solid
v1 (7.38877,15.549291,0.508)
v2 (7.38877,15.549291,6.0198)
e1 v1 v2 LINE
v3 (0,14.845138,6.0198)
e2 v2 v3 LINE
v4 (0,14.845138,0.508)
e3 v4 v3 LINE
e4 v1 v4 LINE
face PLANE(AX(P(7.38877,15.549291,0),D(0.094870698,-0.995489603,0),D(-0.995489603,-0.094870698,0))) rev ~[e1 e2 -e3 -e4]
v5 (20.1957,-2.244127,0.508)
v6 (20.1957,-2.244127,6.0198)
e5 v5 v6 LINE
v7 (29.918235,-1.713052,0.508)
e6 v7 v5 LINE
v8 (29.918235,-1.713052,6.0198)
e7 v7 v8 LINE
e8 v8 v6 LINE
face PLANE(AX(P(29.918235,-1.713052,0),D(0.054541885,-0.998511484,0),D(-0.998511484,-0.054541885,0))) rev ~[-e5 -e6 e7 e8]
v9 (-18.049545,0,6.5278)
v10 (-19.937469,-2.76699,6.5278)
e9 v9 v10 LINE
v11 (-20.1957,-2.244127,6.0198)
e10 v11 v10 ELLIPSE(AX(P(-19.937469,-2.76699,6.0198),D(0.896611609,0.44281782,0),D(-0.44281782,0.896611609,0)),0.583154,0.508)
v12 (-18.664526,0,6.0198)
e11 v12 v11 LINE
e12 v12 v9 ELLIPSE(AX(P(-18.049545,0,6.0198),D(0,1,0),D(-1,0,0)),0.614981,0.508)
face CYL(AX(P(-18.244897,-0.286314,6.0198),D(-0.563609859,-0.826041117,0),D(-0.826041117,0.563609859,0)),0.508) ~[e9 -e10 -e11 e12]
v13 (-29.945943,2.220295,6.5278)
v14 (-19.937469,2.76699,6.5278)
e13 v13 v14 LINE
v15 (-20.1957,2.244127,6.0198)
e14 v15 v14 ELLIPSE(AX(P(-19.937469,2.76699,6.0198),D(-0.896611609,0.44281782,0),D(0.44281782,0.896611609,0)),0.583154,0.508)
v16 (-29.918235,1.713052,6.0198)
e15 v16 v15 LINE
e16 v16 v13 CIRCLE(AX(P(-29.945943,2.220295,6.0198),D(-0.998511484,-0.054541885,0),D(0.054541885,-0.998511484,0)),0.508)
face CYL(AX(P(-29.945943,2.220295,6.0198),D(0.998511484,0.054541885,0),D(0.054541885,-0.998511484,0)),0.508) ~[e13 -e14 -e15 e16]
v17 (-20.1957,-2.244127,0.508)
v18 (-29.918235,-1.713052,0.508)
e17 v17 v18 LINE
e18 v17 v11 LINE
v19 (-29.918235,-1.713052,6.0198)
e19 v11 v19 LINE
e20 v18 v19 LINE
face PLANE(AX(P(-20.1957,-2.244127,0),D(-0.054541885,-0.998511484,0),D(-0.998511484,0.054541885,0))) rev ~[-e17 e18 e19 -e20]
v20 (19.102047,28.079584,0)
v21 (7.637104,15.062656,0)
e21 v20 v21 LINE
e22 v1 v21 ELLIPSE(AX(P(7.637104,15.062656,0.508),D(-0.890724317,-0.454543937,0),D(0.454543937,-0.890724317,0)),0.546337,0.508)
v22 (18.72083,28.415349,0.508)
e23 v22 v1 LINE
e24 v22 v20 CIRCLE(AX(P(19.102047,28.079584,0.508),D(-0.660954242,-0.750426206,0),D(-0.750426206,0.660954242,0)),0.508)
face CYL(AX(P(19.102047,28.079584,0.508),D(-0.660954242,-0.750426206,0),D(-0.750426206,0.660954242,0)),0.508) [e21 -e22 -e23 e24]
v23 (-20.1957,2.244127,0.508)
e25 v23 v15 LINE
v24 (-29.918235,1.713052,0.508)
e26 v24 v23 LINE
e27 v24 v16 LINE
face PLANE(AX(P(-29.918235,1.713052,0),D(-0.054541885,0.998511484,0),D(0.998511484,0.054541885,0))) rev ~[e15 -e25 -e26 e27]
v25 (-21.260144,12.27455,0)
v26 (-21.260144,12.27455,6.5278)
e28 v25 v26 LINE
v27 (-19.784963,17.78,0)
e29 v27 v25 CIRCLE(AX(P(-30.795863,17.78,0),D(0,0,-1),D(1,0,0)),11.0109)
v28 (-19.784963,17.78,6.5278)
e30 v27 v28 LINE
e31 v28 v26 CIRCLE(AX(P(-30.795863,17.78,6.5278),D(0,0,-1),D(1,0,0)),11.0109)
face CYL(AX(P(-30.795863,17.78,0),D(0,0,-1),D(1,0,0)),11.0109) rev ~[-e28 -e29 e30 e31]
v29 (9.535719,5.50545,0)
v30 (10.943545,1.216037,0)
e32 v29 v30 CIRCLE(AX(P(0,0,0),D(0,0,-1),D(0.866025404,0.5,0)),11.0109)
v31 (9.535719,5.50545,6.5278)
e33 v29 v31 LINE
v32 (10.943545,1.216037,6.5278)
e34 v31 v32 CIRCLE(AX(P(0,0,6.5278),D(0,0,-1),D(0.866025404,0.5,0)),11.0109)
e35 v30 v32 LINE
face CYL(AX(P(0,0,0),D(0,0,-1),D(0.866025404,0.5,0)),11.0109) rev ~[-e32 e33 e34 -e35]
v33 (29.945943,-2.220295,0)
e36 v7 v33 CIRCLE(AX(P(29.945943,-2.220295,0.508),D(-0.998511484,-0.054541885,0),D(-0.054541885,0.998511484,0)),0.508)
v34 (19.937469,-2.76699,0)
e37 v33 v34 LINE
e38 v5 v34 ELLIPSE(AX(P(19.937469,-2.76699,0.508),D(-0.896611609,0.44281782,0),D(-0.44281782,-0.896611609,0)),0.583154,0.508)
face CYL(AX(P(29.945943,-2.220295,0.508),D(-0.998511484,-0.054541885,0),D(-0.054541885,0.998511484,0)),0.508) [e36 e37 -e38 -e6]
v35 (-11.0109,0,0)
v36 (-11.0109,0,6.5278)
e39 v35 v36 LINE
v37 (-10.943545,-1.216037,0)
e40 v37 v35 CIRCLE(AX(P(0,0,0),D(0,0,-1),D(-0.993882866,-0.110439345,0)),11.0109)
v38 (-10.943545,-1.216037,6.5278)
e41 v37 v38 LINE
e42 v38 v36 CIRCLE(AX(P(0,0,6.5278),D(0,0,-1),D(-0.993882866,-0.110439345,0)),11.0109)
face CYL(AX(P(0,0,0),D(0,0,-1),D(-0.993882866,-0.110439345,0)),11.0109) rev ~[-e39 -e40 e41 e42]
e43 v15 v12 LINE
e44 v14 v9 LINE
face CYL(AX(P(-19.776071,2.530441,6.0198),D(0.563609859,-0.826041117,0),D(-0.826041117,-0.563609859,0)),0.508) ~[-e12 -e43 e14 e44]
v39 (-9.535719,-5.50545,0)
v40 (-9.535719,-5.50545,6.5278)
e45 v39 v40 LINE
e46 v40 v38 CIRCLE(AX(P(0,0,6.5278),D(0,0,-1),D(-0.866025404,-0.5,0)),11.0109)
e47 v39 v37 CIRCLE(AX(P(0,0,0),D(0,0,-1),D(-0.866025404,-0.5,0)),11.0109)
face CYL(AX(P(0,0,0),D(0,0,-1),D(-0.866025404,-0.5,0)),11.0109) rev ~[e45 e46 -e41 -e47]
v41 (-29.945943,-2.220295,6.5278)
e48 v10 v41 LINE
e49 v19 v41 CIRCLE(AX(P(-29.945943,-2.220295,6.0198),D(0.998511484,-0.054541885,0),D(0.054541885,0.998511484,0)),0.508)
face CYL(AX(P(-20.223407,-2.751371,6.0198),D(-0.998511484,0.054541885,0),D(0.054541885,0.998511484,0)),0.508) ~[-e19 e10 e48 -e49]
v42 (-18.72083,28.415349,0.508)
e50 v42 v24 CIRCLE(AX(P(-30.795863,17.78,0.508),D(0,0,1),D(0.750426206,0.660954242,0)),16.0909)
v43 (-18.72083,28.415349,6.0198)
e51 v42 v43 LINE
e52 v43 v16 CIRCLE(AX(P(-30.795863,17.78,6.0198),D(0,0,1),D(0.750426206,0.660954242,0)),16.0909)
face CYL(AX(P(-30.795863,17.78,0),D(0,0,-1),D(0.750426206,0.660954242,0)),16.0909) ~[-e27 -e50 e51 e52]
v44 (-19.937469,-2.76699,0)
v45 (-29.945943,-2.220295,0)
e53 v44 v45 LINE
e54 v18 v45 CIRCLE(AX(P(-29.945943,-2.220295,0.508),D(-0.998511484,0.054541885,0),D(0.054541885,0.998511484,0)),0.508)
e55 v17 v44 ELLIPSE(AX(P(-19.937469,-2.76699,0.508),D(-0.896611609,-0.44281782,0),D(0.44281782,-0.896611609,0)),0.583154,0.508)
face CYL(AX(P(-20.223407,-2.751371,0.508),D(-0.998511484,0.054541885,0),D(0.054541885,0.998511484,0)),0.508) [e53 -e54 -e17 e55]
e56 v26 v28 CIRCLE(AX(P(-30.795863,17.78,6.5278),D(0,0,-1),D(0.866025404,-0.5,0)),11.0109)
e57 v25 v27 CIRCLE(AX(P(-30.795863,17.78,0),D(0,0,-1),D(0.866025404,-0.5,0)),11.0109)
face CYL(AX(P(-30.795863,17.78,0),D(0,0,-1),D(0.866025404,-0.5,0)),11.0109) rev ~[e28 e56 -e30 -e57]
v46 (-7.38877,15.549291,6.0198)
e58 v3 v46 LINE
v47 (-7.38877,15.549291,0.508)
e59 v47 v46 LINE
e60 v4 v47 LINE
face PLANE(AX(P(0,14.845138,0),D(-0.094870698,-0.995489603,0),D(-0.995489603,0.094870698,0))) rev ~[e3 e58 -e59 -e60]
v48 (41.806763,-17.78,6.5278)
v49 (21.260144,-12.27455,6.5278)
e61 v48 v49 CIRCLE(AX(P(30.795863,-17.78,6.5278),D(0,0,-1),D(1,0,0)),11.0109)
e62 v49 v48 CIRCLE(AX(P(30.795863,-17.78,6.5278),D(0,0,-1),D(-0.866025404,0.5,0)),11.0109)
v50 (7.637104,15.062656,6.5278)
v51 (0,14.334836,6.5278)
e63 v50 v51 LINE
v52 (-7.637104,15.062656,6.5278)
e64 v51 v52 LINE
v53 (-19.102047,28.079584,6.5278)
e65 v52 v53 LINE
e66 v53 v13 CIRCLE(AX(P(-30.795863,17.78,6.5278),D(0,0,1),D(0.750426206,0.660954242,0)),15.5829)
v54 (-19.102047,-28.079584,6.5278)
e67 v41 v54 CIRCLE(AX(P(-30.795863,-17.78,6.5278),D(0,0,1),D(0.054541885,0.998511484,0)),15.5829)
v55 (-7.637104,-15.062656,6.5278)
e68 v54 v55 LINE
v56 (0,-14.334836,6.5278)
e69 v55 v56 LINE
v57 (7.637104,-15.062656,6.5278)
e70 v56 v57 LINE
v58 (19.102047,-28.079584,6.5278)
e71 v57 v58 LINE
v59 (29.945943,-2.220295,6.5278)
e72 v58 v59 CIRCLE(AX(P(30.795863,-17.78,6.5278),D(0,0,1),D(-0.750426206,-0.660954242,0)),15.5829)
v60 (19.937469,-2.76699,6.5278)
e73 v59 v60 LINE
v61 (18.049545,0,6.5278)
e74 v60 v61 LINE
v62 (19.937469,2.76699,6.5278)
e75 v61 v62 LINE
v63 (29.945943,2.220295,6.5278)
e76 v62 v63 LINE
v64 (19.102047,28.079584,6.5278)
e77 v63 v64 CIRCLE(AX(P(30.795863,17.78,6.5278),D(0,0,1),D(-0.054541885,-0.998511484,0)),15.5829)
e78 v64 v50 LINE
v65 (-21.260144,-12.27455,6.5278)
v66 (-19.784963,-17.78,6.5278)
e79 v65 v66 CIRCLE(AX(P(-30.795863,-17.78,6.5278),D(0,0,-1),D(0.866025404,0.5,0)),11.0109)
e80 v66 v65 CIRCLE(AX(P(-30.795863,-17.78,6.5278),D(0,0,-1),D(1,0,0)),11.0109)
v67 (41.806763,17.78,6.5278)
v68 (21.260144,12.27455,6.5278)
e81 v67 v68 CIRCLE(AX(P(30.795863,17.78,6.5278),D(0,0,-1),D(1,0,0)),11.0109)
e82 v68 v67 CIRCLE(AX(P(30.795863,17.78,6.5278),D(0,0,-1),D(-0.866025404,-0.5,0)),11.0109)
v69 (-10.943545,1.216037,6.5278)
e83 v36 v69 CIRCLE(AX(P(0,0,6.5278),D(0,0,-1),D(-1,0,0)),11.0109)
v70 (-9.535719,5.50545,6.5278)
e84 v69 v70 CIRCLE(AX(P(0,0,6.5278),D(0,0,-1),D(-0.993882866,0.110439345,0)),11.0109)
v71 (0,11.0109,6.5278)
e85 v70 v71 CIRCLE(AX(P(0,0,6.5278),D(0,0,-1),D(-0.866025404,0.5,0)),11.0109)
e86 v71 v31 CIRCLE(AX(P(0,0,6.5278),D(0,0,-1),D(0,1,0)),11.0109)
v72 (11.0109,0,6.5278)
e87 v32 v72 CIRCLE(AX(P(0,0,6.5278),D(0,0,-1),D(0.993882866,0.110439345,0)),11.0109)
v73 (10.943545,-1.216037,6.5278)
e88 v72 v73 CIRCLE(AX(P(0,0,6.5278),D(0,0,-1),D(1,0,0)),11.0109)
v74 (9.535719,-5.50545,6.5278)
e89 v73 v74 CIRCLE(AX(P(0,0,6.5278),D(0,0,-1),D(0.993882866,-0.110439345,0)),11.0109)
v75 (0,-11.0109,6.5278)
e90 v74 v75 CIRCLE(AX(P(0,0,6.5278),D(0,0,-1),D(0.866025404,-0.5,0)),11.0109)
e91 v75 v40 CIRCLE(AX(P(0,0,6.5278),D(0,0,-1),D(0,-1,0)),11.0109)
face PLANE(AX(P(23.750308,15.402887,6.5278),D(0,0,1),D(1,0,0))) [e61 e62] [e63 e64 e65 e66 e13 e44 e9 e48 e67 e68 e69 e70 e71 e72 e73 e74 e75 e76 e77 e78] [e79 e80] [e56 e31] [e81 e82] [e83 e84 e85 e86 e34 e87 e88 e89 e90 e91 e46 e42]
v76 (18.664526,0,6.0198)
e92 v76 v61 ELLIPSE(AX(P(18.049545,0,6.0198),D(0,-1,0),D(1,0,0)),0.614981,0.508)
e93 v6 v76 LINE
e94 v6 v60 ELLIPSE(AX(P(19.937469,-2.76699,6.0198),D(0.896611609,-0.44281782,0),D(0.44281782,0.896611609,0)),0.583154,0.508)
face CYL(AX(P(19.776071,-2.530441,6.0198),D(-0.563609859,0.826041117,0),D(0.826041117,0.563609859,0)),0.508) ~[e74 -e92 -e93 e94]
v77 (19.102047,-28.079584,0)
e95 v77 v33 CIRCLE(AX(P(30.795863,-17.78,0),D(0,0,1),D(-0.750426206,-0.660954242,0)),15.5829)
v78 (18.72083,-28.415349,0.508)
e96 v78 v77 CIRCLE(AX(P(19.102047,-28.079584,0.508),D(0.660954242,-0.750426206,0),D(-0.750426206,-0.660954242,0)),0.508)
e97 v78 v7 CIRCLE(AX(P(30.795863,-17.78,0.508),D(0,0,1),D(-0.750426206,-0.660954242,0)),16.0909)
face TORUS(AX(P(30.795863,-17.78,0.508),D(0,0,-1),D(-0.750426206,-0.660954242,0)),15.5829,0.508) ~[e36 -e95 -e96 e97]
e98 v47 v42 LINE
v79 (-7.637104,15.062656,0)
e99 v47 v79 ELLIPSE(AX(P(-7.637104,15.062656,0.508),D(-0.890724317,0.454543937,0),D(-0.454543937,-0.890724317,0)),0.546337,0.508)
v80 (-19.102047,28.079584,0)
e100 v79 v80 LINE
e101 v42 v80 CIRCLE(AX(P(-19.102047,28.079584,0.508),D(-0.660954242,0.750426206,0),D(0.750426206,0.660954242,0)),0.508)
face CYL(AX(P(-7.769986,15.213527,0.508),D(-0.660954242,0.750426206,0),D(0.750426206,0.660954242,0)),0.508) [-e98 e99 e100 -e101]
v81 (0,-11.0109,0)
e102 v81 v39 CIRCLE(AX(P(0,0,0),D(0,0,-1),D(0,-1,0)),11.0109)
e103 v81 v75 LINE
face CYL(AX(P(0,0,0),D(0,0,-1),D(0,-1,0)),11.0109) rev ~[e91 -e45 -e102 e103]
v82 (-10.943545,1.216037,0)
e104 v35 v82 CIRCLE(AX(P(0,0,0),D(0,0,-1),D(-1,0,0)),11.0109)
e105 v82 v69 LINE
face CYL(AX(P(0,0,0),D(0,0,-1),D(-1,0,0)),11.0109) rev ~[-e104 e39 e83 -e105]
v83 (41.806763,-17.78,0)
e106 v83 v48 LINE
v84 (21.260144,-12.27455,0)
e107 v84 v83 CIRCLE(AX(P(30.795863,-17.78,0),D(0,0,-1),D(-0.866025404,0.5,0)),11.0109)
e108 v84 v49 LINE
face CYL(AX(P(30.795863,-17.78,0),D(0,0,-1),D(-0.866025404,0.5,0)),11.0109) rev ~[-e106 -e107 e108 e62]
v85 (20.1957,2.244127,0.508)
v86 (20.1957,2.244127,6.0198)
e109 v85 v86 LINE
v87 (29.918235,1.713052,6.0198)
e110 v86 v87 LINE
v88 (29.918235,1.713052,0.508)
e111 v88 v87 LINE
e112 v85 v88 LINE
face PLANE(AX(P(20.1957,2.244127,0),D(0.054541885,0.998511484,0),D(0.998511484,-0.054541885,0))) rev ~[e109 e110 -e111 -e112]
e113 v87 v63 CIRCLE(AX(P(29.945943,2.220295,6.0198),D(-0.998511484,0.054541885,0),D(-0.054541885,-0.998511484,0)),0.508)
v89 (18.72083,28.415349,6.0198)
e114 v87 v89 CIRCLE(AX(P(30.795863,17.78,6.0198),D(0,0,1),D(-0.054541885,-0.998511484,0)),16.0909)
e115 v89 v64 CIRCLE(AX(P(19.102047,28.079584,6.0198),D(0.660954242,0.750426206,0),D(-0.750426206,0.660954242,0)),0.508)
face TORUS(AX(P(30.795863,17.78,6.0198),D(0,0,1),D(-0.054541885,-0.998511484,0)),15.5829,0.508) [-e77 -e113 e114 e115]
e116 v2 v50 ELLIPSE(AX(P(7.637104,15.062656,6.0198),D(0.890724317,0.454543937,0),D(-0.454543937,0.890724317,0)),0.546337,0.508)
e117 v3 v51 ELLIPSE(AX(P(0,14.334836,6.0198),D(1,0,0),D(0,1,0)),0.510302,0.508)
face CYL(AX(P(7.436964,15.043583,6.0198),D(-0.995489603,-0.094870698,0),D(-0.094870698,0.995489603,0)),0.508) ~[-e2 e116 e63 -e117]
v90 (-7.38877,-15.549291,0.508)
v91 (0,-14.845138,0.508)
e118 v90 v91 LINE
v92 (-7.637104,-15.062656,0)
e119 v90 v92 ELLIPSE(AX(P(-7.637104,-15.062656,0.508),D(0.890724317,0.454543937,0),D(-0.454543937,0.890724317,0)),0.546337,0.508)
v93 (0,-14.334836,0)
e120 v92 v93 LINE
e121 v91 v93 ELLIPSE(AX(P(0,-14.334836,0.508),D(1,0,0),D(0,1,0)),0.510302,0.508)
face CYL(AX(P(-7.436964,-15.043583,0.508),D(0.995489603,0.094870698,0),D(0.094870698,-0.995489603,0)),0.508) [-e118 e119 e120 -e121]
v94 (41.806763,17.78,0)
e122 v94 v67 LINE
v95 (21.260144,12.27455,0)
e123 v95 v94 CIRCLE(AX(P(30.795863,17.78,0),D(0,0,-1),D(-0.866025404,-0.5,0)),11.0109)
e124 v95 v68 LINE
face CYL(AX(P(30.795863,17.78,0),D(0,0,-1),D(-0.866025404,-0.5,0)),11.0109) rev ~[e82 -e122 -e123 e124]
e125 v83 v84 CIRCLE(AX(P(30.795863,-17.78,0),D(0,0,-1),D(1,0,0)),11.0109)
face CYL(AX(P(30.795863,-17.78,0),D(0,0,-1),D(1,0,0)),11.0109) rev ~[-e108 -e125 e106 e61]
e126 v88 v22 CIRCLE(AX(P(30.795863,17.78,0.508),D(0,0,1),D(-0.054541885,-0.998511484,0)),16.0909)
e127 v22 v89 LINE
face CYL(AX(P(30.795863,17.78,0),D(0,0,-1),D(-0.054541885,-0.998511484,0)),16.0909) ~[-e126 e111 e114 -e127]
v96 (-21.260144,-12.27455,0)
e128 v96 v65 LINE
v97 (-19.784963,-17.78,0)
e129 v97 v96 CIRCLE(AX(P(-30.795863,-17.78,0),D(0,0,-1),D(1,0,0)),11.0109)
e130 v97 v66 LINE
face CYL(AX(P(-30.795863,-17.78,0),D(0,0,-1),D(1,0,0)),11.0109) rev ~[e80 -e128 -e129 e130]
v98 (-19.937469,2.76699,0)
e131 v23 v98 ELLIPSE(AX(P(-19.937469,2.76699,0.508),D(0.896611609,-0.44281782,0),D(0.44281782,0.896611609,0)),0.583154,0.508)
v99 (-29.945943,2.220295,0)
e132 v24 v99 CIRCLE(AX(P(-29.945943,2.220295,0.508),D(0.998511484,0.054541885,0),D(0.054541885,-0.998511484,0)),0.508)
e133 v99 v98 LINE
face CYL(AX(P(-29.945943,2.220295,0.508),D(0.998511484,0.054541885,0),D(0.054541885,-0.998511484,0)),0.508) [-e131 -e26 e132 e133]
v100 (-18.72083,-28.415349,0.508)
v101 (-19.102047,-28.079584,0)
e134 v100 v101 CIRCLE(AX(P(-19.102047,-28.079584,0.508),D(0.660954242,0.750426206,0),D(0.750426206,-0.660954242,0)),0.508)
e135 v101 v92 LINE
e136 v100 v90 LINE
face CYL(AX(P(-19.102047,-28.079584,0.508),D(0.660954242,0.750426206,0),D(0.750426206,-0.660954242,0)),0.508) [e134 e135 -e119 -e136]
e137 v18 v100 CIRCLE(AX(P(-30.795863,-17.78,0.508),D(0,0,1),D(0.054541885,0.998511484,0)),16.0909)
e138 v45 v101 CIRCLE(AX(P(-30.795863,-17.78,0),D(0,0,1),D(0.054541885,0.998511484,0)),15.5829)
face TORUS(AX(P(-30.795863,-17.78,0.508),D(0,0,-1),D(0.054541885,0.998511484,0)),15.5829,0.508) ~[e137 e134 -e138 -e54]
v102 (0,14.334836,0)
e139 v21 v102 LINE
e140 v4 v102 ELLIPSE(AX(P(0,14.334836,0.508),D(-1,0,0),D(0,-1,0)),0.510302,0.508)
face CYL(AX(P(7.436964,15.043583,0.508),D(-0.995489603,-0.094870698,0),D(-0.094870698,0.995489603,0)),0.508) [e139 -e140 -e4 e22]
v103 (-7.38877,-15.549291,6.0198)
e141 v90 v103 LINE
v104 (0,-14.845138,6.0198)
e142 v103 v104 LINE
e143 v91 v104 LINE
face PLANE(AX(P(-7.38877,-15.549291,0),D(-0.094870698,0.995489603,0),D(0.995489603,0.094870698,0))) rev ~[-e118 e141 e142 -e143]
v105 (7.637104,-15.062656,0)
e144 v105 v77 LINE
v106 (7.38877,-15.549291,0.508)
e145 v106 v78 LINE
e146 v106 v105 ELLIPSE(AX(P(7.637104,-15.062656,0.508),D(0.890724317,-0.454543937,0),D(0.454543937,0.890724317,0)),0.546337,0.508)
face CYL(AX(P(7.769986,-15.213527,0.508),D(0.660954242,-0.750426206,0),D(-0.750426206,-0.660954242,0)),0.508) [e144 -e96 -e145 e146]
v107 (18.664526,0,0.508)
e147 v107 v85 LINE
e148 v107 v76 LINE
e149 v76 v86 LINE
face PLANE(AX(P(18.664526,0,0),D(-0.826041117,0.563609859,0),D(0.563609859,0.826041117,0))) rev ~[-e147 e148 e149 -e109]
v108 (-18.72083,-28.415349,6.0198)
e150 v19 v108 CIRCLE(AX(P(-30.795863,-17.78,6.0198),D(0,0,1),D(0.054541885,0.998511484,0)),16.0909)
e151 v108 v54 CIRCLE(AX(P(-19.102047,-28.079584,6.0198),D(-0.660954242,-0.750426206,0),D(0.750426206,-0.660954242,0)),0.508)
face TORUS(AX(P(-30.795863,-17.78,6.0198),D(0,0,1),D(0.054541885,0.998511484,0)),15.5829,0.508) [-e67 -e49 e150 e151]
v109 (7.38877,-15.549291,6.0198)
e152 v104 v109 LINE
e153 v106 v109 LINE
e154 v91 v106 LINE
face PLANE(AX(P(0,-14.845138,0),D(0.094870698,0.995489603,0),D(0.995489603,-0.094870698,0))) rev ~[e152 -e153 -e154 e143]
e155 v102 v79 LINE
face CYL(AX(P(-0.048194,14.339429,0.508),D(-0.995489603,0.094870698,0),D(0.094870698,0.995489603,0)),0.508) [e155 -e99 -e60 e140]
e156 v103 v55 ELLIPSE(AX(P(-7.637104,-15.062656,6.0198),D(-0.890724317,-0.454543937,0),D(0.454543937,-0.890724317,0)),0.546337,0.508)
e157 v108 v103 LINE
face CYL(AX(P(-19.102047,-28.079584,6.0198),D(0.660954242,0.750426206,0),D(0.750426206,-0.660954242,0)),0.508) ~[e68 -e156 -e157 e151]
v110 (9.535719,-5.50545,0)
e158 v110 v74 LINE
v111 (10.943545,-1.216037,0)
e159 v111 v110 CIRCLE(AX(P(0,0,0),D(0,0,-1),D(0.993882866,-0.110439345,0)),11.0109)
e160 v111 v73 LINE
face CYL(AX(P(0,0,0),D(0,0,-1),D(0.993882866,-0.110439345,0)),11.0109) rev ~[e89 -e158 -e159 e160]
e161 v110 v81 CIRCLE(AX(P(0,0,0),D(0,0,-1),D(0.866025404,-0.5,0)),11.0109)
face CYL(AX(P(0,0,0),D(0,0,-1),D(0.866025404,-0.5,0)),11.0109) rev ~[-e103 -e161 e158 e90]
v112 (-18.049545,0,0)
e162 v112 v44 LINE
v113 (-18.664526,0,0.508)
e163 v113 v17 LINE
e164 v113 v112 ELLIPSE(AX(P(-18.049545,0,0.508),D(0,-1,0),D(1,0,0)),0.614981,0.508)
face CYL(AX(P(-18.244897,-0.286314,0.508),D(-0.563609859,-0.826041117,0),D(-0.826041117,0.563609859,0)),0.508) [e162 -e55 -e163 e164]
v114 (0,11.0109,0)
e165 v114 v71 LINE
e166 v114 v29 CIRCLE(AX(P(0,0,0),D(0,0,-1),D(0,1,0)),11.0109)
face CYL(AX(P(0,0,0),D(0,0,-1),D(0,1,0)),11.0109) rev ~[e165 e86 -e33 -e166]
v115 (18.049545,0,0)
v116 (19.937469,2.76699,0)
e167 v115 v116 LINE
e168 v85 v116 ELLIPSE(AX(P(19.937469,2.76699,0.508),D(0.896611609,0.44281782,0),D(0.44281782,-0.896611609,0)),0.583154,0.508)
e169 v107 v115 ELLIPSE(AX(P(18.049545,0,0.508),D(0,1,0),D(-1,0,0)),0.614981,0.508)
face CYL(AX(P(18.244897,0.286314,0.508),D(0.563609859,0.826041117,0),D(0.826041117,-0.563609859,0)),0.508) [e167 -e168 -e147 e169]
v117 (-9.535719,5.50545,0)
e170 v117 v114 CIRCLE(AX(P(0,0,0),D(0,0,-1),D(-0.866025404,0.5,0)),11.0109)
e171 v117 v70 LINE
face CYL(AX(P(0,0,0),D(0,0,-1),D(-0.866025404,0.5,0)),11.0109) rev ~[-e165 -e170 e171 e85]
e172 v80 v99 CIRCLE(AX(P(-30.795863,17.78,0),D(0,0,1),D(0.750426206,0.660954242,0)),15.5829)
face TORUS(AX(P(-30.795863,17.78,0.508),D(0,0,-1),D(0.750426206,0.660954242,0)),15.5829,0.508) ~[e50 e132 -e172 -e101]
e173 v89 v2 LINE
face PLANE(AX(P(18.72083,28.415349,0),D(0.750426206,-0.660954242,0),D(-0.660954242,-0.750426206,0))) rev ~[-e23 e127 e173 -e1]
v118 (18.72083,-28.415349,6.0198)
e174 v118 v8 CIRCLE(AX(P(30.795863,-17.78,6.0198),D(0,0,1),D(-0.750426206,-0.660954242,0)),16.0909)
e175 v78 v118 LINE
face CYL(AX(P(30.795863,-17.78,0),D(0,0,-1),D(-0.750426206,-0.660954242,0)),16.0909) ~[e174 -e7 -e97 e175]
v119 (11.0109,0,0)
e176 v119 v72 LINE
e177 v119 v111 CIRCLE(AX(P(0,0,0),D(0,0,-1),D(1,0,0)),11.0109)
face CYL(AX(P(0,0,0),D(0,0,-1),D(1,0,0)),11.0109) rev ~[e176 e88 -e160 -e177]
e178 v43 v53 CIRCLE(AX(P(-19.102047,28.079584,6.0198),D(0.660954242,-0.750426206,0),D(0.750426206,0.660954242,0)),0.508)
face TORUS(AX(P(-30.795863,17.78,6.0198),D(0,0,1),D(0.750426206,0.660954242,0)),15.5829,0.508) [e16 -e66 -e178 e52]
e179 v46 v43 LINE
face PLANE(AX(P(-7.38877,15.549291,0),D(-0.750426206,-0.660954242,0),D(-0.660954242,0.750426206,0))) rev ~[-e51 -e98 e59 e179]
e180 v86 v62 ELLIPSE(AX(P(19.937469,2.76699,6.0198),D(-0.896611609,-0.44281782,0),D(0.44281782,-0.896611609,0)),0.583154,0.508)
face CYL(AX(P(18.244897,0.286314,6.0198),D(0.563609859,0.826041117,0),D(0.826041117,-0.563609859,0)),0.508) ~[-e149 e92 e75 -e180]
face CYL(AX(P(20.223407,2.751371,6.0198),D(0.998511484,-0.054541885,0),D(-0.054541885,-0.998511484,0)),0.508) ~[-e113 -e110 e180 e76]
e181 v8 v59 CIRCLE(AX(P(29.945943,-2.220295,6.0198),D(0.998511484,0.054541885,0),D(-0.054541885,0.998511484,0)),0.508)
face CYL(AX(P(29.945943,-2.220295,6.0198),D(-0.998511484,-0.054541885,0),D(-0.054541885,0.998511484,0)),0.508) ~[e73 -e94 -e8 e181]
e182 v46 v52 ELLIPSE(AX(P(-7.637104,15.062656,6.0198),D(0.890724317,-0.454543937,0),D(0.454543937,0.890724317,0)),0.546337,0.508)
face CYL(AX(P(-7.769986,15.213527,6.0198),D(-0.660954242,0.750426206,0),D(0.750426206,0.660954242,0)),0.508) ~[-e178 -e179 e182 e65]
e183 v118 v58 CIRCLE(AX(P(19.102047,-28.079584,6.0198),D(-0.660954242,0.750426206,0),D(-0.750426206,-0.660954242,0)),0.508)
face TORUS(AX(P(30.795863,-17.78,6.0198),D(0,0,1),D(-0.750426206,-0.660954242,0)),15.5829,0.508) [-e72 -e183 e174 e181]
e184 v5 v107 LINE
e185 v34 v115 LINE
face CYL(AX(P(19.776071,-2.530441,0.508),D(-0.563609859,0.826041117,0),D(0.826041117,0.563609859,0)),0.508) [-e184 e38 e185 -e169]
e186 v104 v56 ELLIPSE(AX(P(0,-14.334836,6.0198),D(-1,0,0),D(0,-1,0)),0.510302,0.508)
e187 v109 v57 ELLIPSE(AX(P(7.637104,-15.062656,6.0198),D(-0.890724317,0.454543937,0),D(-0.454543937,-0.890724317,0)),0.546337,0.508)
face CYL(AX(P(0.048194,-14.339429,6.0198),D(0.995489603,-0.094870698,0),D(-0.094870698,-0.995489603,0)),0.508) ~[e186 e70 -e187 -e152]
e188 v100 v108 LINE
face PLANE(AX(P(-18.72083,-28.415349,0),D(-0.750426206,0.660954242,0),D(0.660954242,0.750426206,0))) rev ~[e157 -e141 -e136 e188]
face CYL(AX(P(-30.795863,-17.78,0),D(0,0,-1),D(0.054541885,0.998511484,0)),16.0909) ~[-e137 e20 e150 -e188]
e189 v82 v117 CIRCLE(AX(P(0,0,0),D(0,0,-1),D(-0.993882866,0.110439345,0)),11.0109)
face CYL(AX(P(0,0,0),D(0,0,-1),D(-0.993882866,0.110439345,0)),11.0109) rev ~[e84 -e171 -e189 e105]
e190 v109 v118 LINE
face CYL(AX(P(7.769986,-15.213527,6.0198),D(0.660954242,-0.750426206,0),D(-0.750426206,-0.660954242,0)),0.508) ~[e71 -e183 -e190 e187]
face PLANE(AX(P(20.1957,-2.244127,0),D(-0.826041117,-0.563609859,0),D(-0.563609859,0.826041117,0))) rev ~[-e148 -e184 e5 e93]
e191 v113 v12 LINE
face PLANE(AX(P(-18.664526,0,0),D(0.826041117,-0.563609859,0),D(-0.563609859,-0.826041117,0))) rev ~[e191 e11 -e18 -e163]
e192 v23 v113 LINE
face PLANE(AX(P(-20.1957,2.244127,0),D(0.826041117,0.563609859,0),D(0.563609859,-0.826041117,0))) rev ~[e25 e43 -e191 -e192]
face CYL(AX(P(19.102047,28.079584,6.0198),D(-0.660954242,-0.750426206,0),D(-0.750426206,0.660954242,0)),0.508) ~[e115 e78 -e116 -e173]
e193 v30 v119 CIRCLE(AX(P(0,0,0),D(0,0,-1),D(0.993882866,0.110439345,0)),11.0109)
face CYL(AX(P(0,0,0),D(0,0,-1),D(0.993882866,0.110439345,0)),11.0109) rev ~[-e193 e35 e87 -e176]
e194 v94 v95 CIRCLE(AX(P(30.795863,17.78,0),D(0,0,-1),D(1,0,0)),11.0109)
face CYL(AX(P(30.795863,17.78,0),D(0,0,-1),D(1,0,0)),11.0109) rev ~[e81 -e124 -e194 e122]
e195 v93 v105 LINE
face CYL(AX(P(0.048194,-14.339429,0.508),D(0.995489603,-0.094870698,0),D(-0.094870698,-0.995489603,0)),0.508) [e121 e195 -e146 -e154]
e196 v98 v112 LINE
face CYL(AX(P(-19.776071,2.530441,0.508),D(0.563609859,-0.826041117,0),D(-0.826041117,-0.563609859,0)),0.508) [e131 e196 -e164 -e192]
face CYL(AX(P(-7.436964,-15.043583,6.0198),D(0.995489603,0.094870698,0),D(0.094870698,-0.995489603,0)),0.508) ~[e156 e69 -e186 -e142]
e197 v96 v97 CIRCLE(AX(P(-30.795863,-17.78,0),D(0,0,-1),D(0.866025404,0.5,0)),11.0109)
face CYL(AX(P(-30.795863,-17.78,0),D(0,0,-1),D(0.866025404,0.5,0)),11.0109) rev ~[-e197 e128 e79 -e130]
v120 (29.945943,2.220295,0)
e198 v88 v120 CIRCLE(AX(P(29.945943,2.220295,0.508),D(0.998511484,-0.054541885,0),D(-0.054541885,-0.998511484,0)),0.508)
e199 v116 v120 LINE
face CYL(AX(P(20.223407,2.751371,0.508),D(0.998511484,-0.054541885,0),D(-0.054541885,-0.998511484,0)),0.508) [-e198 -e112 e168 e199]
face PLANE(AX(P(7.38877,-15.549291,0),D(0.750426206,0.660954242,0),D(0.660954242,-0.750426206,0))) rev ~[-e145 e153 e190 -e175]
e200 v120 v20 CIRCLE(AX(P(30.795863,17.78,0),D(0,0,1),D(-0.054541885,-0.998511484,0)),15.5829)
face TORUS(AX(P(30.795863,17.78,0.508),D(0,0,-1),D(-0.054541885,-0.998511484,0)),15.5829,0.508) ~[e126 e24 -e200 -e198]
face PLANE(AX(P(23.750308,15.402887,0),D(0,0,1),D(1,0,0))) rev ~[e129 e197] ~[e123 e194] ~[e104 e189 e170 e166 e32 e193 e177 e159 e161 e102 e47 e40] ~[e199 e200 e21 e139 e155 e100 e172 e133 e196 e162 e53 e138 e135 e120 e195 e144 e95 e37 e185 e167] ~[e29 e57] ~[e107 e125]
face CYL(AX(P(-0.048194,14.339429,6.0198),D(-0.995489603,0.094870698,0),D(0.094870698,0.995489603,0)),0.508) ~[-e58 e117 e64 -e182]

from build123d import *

# Parameters (mm, degrees)
F1_DEPTH = 6.5278
F2_R     = 0.508


with BuildPart() as f1:
    # F0 (on Top) → F1 (new body)
    with BuildSketch(Plane.XY):
        with BuildLine():
            ThreePointArc((9.5357191185, 5.50545), (10.4618272783, 3.4336698746), (10.9435448474, 1.2160365878))
            Line((10.9435448474, 1.2160365878), (20.1956998337, 2.2441274976))
            Line((20.1956998337, 2.2441274976), (29.9182353422, 1.7130515693))
            ThreePointArc((29.9182353422, 1.7130515693), (45.6348668249, 24.0026231555), (18.7208303248, 28.4153486094))
            Line((18.7208303248, 28.4153486094), (7.3887698491, 15.5492913122))
            Line((7.3887698491, 15.5492913122), (0, 14.8451375442))
            Line((0, 14.8451375442), (0, 11.0109))
            ThreePointArc((0, 11.0109), (5.50545, 9.5357191185), (9.5357191185, 5.50545))
        make_face()
        with BuildLine():
            ThreePointArc((41.8067633586, 17.78), (33.6456939823, 7.1442873193), (21.26014424, 12.27455))
            ThreePointArc((21.26014424, 12.27455), (27.9460327349, 28.4157126807), (41.8067633586, 17.78))
        make_face(mode=Mode.SUBTRACT)
        with BuildLine():
            ThreePointArc((-10.9435448474, 1.2160365878), (-10.4618272783, 3.4336698747), (-9.5357191185, 5.50545))
            ThreePointArc((-9.5357191185, 5.50545), (-5.50545, 9.5357191185), (0, 11.0109))
            Line((0, 11.0109), (0, 14.8451375442))
            Line((0, 14.8451375442), (-7.3887698491, 15.5492913122))
            Line((-7.3887698491, 15.5492913122), (-18.7208303248, 28.4153486094))
            ThreePointArc((-18.7208303248, 28.4153486094), (-45.6348668249, 24.0026231555), (-29.9182353422, 1.7130515693))
            Line((-29.9182353422, 1.7130515693), (-20.1956998337, 2.2441274976))
            Line((-20.1956998337, 2.2441274976), (-10.9435448474, 1.2160365878))
        make_face()
        with BuildLine():
            ThreePointArc((-19.7849633586, 17.78), (-20.1601506779, 14.9301693763), (-21.26014424, 12.27455))
            ThreePointArc((-21.26014424, 12.27455), (-41.4315760393, 20.6298306237), (-19.7849633586, 17.78))
        make_face(mode=Mode.SUBTRACT)
        with BuildLine():
            ThreePointArc((0, -11.0109), (-5.50545, -9.5357191185), (-9.5357191185, -5.50545))
            ThreePointArc((-9.5357191185, -5.50545), (-10.4618272783, -3.4336698747), (-10.9435448474, -1.2160365878))
            Line((-10.9435448474, -1.2160365878), (-20.1956998337, -2.2441274976))
            Line((-20.1956998337, -2.2441274976), (-29.9182353422, -1.7130515693))
            ThreePointArc((-29.9182353422, -1.7130515693), (-45.6348668249, -24.0026231555), (-18.7208303248, -28.4153486094))
            Line((-18.7208303248, -28.4153486094), (-7.3887698491, -15.5492913122))
            Line((-7.3887698491, -15.5492913122), (0, -14.8451375442))
            Line((0, -14.8451375442), (0, -11.0109))
        make_face()
        with BuildLine():
            ThreePointArc((-19.7849633586, -17.78), (-41.4315760393, -20.6298306237), (-21.26014424, -12.27455))
            ThreePointArc((-21.26014424, -12.27455), (-20.1601506779, -14.9301693763), (-19.7849633586, -17.78))
        make_face(mode=Mode.SUBTRACT)
        with BuildLine():
            Line((20.1956998337, -2.2441274976), (10.9435448474, -1.2160365878))
            ThreePointArc((10.9435448474, -1.2160365878), (10.4618272783, -3.4336698746), (9.5357191185, -5.50545))
            ThreePointArc((9.5357191185, -5.50545), (5.50545, -9.5357191185), (0, -11.0109))
            Line((0, -11.0109), (0, -14.8451375442))
            Line((0, -14.8451375442), (7.3887698491, -15.5492913122))
            Line((7.3887698491, -15.5492913122), (18.7208303248, -28.4153486094))
            ThreePointArc((18.7208303248, -28.4153486094), (45.6348668249, -24.0026231555), (29.9182353422, -1.7130515693))
            Line((29.9182353422, -1.7130515693), (20.1956998337, -2.2441274976))
        make_face()
        with BuildLine():
            ThreePointArc((41.8067633586, -17.78), (27.9460327349, -28.4157126807), (21.26014424, -12.27455))
            ThreePointArc((21.26014424, -12.27455), (33.6456939823, -7.1442873193), (41.8067633586, -17.78))
        make_face(mode=Mode.SUBTRACT)
        with BuildLine():
            Line((-18.6645261941, 0), (-11.0109, 0))
            ThreePointArc((-11.0109, 0), (-10.9940483165, 0.6089502647), (-10.9435448474, 1.2160365878))
            Line((-10.9435448474, 1.2160365878), (-20.1956998337, 2.2441274976))
            Line((-20.1956998337, 2.2441274976), (-18.6645261941, 0))
        make_face()
        with BuildLine():
            ThreePointArc((-10.9435448474, -1.2160365878), (-10.9940483165, -0.6089502647), (-11.0109, 0))
            Line((-11.0109, 0), (-18.6645261941, 0))
            Line((-18.6645261941, 0), (-20.1956998337, -2.2441274976))
            Line((-20.1956998337, -2.2441274976), (-10.9435448474, -1.2160365878))
        make_face()
        with BuildLine():
            ThreePointArc((10.9435448474, 1.2160365878), (10.9940483165, 0.6089502647), (11.0109, 0))
            Line((11.0109, 0), (18.6645261941, 0))
            Line((18.6645261941, 0), (20.1956998337, 2.2441274976))
            Line((20.1956998337, 2.2441274976), (10.9435448474, 1.2160365878))
        make_face()
        with BuildLine():
            Line((18.6645261941, 0), (11.0109, 0))
            ThreePointArc((11.0109, 0), (10.9940483165, -0.6089502647), (10.9435448474, -1.2160365878))
            Line((10.9435448474, -1.2160365878), (20.1956998337, -2.2441274976))
            Line((20.1956998337, -2.2441274976), (18.6645261941, 0))
        make_face()
    extrude(amount=F1_DEPTH)

    # F2
    f2_edges = [f1.edges().sort_by_distance(p)[0] for p in [
        (-45.634867, 24.002623, 6.5278),
        (-3.694385, 15.197214, 6.5278),
        (3.694385, 15.197214, 6.5278),
        (45.634867, 24.002623, 6.5278),
        (19.430113, 1.122064, 6.5278),
        (19.430113, -1.122064, 6.5278),
        (45.634867, -24.002623, 6.5278),
        (3.694385, -15.197214, 6.5278),
        (-3.694385, -15.197214, 6.5278),
        (-45.634867, -24.002623, 6.5278),
        (-19.430113, -1.122064, 6.5278),
        (-19.430113, 1.122064, 6.5278),
        (45.634867, 24.002623, 0),
        (3.694385, 15.197214, 0),
        (-3.694385, 15.197214, 0),
        (-45.634867, 24.002623, 0),
        (-19.430113, 1.122064, 0),
        (-19.430113, -1.122064, 0),
        (-45.634867, -24.002623, 0),
        (-3.694385, -15.197214, 0),
        (3.694385, -15.197214, 0),
        (45.634867, -24.002623, 0),
        (19.430113, -1.122064, 0),
        (19.430113, 1.122064, 0),
        (-13.0548, 21.98232, 6.5278),
        (13.0548, 21.98232, 6.5278),
        (25.056968, 1.97859, 6.5278),
        (25.056968, -1.97859, 6.5278),
        (13.0548, -21.98232, 6.5278),
        (-13.0548, -21.98232, 6.5278),
        (-25.056968, -1.97859, 6.5278),
        (-25.056968, 1.97859, 6.5278),
        (-13.0548, 21.98232, 0),
        (13.0548, 21.98232, 0),
        (-13.0548, -21.98232, 0),
        (13.0548, -21.98232, 0),
    ]]
    fillet(f2_edges, radius=F2_R)


solid = f1.part
